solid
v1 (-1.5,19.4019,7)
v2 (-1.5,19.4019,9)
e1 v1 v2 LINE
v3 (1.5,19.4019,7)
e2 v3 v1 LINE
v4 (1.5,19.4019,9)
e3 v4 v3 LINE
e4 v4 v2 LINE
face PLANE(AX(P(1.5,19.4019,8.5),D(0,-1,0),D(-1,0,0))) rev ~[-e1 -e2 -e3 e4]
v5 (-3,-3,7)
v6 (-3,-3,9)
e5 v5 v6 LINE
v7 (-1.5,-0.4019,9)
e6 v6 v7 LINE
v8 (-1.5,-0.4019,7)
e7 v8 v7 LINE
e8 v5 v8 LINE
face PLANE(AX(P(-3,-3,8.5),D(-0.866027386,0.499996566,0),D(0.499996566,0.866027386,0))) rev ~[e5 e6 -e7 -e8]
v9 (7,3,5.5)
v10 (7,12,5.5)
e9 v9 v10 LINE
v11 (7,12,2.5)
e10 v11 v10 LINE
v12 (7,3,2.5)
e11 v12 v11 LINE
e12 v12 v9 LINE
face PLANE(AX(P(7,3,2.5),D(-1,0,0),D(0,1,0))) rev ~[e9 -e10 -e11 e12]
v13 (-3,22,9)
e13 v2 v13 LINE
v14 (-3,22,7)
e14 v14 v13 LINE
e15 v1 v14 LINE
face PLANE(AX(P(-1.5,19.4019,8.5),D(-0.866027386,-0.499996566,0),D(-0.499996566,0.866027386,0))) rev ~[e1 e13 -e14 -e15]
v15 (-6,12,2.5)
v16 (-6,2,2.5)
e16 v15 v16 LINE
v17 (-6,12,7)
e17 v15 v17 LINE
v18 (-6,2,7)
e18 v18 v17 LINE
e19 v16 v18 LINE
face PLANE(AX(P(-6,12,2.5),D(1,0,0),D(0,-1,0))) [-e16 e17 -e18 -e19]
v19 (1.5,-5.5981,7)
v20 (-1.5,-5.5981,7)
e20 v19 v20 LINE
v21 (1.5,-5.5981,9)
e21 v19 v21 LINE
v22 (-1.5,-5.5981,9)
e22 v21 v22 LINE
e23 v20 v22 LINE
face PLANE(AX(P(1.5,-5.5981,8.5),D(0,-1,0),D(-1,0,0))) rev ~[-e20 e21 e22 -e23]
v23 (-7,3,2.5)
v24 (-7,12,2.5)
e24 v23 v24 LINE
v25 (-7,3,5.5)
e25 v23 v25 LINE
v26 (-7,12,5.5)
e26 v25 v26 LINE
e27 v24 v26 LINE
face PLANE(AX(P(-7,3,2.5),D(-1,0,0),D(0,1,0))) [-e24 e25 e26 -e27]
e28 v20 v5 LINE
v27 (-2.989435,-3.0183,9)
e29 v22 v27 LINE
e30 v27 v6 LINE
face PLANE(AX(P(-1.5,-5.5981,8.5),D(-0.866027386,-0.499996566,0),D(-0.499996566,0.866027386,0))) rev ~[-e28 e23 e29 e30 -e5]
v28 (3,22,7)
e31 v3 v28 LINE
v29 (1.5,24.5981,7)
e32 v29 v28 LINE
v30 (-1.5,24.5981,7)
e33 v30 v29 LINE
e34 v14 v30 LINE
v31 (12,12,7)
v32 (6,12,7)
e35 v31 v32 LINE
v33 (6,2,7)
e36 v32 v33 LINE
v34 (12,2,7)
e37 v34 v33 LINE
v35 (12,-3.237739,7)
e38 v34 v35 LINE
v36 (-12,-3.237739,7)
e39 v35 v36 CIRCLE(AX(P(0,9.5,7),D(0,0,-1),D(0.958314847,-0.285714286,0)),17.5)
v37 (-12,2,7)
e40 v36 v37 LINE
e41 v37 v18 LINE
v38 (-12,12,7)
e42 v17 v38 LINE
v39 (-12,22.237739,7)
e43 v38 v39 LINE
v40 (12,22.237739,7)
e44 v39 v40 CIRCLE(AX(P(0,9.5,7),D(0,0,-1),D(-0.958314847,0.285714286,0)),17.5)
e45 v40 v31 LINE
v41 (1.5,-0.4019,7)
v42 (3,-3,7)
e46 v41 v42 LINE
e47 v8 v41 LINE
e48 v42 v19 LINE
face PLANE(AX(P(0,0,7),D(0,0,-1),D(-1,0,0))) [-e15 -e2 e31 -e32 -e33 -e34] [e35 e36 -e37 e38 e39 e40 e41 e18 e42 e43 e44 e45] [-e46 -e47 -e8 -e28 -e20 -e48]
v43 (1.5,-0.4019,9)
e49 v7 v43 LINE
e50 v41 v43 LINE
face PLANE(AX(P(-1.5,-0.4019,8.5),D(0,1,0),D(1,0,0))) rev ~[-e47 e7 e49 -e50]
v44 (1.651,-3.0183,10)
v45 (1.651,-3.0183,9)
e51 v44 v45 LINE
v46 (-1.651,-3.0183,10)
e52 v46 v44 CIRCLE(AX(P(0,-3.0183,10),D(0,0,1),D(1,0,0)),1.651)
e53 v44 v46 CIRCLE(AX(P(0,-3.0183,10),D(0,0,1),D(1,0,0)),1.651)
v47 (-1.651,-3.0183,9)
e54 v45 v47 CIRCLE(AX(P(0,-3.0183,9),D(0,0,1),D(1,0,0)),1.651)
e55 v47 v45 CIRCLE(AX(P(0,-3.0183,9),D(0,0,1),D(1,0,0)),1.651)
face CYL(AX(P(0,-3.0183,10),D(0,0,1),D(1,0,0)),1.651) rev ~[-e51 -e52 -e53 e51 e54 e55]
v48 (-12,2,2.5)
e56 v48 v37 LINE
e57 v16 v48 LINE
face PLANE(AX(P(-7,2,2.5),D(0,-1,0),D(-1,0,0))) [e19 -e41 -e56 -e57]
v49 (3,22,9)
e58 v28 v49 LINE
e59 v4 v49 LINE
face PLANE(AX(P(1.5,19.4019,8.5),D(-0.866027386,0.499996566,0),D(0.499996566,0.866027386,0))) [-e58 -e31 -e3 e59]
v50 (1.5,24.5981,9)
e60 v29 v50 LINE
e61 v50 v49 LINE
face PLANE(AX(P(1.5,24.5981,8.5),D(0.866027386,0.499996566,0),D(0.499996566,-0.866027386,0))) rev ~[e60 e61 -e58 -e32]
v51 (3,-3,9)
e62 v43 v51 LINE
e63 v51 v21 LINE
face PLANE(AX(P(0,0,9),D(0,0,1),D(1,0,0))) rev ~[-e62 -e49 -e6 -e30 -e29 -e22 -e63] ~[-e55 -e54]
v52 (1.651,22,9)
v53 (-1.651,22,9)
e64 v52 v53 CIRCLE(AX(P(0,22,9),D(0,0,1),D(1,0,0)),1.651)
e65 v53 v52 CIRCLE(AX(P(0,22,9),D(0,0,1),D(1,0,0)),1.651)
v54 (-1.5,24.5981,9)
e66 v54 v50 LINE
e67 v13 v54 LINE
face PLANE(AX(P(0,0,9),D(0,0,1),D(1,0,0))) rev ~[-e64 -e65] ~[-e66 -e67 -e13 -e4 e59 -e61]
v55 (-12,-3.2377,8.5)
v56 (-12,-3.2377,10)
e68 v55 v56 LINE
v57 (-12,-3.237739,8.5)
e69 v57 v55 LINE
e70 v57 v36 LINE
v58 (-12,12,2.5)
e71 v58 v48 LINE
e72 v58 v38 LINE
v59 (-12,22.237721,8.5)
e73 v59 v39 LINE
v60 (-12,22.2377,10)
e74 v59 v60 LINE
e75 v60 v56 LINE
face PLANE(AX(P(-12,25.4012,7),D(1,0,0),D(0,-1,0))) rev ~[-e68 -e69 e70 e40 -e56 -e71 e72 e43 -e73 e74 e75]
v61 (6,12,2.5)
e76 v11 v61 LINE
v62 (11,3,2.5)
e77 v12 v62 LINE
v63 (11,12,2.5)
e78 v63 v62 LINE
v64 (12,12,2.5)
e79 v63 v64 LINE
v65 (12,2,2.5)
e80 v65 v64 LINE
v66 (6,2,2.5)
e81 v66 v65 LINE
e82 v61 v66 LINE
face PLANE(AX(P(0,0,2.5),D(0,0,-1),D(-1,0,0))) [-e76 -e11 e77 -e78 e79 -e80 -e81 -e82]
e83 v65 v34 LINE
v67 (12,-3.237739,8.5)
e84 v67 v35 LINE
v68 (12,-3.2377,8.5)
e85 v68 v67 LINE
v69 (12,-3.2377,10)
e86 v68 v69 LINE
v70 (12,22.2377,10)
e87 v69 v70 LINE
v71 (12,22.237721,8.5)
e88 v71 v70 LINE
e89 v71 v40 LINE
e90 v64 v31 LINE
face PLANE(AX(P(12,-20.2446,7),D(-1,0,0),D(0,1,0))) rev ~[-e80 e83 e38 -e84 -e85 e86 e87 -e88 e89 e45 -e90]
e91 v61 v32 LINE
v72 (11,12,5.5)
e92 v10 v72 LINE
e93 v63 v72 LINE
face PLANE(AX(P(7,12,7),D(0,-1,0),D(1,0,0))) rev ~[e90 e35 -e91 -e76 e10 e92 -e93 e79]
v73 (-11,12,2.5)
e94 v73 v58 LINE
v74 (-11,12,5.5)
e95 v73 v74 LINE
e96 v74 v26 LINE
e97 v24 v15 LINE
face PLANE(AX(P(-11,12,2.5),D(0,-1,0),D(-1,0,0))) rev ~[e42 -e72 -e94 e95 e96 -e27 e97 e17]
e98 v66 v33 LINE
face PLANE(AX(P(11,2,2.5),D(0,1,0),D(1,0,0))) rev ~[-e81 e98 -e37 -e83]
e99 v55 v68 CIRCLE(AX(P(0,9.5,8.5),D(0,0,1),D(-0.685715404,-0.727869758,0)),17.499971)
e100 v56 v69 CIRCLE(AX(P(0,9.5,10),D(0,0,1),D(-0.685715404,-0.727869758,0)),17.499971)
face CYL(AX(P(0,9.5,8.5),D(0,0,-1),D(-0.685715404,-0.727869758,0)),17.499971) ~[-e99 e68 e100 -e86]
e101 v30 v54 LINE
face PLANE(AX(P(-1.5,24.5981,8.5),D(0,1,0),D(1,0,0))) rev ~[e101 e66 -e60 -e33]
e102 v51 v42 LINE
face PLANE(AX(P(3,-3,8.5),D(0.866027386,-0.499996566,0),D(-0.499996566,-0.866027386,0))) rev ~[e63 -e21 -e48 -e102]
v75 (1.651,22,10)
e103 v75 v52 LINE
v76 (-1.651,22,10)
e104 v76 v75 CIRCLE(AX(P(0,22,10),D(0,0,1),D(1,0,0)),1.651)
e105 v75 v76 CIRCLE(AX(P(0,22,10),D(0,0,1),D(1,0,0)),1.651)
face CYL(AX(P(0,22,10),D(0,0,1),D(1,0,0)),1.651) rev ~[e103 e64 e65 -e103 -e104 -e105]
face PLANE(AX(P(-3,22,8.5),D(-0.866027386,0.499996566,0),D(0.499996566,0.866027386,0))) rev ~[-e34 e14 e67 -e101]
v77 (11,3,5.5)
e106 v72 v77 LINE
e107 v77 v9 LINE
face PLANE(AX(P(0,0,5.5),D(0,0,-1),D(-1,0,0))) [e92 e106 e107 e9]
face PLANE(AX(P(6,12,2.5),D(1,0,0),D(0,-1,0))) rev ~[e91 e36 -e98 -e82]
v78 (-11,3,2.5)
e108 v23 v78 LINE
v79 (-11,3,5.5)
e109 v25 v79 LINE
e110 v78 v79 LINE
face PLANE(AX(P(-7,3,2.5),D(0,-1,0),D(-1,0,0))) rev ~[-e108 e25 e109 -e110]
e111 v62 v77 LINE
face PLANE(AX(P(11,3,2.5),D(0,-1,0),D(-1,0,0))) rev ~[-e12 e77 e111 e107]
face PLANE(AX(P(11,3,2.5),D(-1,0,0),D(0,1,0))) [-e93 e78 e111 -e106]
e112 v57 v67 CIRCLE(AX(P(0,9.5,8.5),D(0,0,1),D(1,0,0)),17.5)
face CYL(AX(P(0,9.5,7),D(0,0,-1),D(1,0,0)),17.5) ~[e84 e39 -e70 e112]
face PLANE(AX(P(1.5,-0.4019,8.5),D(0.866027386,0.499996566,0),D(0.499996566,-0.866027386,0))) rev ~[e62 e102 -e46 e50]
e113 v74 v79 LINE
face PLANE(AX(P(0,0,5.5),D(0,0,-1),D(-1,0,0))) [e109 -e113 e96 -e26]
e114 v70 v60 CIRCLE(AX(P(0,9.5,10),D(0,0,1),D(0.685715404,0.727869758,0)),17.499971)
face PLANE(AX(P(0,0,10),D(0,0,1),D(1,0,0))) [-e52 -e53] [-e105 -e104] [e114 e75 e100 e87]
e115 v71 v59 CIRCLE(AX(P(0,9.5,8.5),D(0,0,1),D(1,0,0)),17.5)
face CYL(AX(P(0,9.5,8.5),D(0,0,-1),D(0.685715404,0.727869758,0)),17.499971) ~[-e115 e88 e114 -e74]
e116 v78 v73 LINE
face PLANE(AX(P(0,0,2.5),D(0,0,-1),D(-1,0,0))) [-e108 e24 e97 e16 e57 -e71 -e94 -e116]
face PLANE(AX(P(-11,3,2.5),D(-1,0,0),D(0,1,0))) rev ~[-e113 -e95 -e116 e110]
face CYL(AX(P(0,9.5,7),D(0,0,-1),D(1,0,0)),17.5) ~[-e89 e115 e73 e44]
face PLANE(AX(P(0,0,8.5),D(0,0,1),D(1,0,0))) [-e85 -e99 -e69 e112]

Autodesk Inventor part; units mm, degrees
ref_plane "YZ Plane" through (0, 0, 0) normal (1, 0, 0) x (0, 1, 0)
ref_plane "XZ Plane" through (0, 0, 0) normal (0, 1, 0) x (-1, 0, 0)
ref_plane "XY Plane" through (0, 0, 0) normal (0, 0, 1) x (1, 0, 0)
sketch "Sketch1" plane through (0, 0, 0) normal (0, 0, 1) x (1, 0, 0)
  line L0 (0, 0) -> (4, 0)
  line L1 (4, 0) -> (4, 13)
  line L2 (4, 13) -> (0, 13)
  line L3 (0, 13) -> (0, 0)
  line L4 (4, 13) -> (-4, 13)
  line L5 (-4, 13) -> (-4, -8)
  line L6 (-4, -8) -> (4, -8)
  line L7 (4, -8) -> (4, 13)
  line L8 (-4, 13) -> (4, 13)
  line L9 (4, 13) -> (4, 21)
  line L10 (4, 21) -> (-4, 21)
  line L11 (-4, 21) -> (-4, 13)
  line L12 (4, 21) -> (7, 21)
  line L13 (7, 21) -> (7, 13)
  line L14 (7, 13) -> (4, 13)
  line L15 (4, 13) -> (4, 21)
  line L16 (7, 21) -> (11, 21)
  line L17 (11, 21) -> (11, 13)
  line L18 (11, 13) -> (7, 13)
  line L19 (7, 13) -> (7, 21)
  line L20 (11, 13) -> (4, 13)
  line L21 (4, 13) -> (4, -8)
  line L22 (4, -8) -> (11, -8)
  line L23 (4, -8) -> (11, -8)
  line L24 (11, -8) -> (11, 0)
  line L25 (11, 0) -> (4, 0)
  line L26 (4, 0) -> (4, -8)
  line L27 (11, -8) -> (14, -8)
  line L28 (14, -8) -> (14, 0)
  line L29 (14, 0) -> (11, 0)
  line L30 (11, 0) -> (11, -8)
  line L31 (14, -8) -> (19, -8)
  line L32 (19, -8) -> (19, 13)
  line L33 (19, 13) -> (14, 13)
  line L34 (14, 13) -> (14, -8)
  line L35 (14, 13) -> (22, 13)
  line L36 (14, 18) -> (14, 13)
  line L37 (19, 13) -> (14, 13)
  line L38 (14, 13) -> (14, 21)
  line L39 (14, 21) -> (19, 21)
  line L40 (19, 21) -> (19, 13)
  line L41 (19, -8) -> (-19, -8)
  line L42 (-19, -8) -> (-19, 0)
  line L43 (-19, 0) -> (19, 0)
  line L44 (19, 0) -> (19, -8)
  line L45 (-4, 0) -> (-7, 0)
  line L46 (-7, 0) -> (-7, -8)
  line L47 (-7, -8) -> (-4, -8)
  line L48 (-4, -8) -> (-4, 0)
  line L49 (-7, 0) -> (-11, 0)
  line L50 (-11, 0) -> (-11, -8)
  line L51 (-11, -8) -> (-7, -8)
  line L52 (-7, -8) -> (-7, 0)
  line L53 (-11, -8) -> (-14, -8)
  line L54 (-14, -8) -> (-14, 0)
  line L55 (-14, 0) -> (-11, 0)
  line L56 (-11, 0) -> (-11, -8)
  line L57 (7, 13) -> (11, 13)
  line L58 (11, 13) -> (11, 3)
  line L59 (11, 3) -> (7, 3)
  line L60 (7, 3) -> (7, 13)
  line L61 (-4, 13) -> (-7, 13)
  line L62 (-7, 13) -> (-7, 21)
  line L63 (-7, 21) -> (-4, 21)
  line L64 (-4, 21) -> (-4, 13)
  line L65 (-7, 21) -> (-11, 21)
  line L66 (-11, 21) -> (-11, 13)
  line L67 (-11, 13) -> (-7, 13)
  line L68 (-7, 13) -> (-7, 21)
  line L69 (-7, 13) -> (-11, 13)
  line L70 (-11, 13) -> (-11, 3)
  line L71 (-11, 3) -> (-7, 3)
  line L72 (-7, 3) -> (-7, 13)
  line L73 (-19, -8) -> (-14, -8)
  line L74 (-14, -8) -> (-14, 13)
  line L75 (-14, 13) -> (-19, 13)
  line L76 (-19, 13) -> (-19, -8)
  dimension "d0" = 4
  dimension "d1" = 13
  dimension "d2" = 8
  dimension "d3" = 21
  dimension "d4" = 8
  dimension "d5" = 8
  dimension "d6" = 3
  dimension "d7" = 8
  dimension "d8" = 4
  dimension "d9" = 8
  dimension "d10" = 3
  dimension "d11" = 8
  dimension "d12" = 5
  dimension "d13" = 21
  dimension "d16" = 5
  dimension "d17" = 8
  dimension "d18" = 38
  dimension "d19" = 8
  dimension "d20" = 3
  dimension "d21" = 8
  dimension "d22" = 4
  dimension "d23" = 8
  dimension "d24" = 3
  dimension "d25" = 8
  dimension "d26" = 10
  dimension "d27" = 3
  dimension "d28" = 8
  dimension "d29" = 4
  dimension "d30" = 8
  dimension "d31" = 4
  dimension "d32" = 10
  dimension "d33" = 5
  dimension "d34" = 21
extrude "Extrusion1" add sketch "Sketch1" along normal blind 2.5 contours L3 L2 L1 L0 | L43 L5 L4 L3 | L0 L7 L6 L5 L43 | L25 L24 L22 L7 | L4 L11 L10 L9 L2 | L5 L41 L46 L43 | L9 L12 L13 L14 | L29 L28 L27 L24 | L61 L62 L63 L11 | L46 L41 L50 L43 | L13 L16 L17 L18 | L18 L58 L59 L60 | L43 L32 L31 L28 | L34 L33 L32 L43 | L67 L66 L65 L62 | L72 L71 L70 L67 | L50 L41 L54 L43 | L54 L41 L42 L43 | L43 L76 L75 L74
sketch "Sketch2" plane through (0, 0, 2.5) normal (0, 0, 1) x (1, 0, 0)
  line L0 (-14, 13) -> (-19, 13) projected
  line L1 (-19, 13) -> (-14, 13)
  line L2 (-14, 13) -> (-14, 8)
  line L3 (-14, 8) -> (-19, 8)
  line L4 (-19, 8) -> (-19, 13)
  line L5 (14, 13) -> (19, 13)
  line L6 (19, 13) -> (19, 8)
  line L7 (19, 8) -> (14, 8)
  line L8 (14, 8) -> (14, 13)
  line L9 (-20.5, 6.5) -> (-12.5, 6.5)
  line L10 (-12.5, 6.5) -> (-12.5, 14.5)
  line L11 (-12.5, 14.5) -> (-20.5, 14.5)
  line L12 (-20.5, 14.5) -> (-20.5, 6.5)
  line L13 (12.5, 6.5) -> (20.5, 6.5)
  line L14 (20.5, 6.5) -> (20.5, 14.5)
  line L15 (20.5, 14.5) -> (12.5, 14.5)
  line L16 (12.5, 14.5) -> (12.5, 6.5)
  line L17 (-20.5, 14.5) -> (-19, 14.5)
  line L18 (-19, 14.5) -> (-19, 4.5)
  line L19 (-19, 4.5) -> (-20.5, 4.5)
  line L20 (-20.5, 4.5) -> (-20.5, 14.5)
  line L21 (-14, 0) -> (-14, 13) projected
  line L22 (-12.5, 14.5) -> (-14, 14.5)
  line L23 (-14, 14.5) -> (-14, 4.5)
  line L24 (-14, 4.5) -> (-12.5, 4.5)
  line L25 (-12.5, 4.5) -> (-12.5, 14.5)
  line L26 (-19, 14.5) -> (-14, 14.5)
  line L27 (-14, 14.5) -> (-14, 13)
  line L28 (-14, 13) -> (-19, 13)
  line L29 (-19, 13) -> (-19, 14.5)
  line L30 (12.5, 14.5) -> (20.5, 14.5)
  line L31 (20.5, 14.5) -> (20.5, 13)
  line L32 (20.5, 13) -> (12.5, 13)
  line L33 (12.5, 13) -> (12.5, 14.5)
  line L34 (14, 13) -> (14, 0) projected
  line L35 (12.5, 14.5) -> (14, 14.5)
  line L36 (14, 14.5) -> (14, 4.5)
  line L37 (14, 4.5) -> (12.5, 4.5)
  line L38 (12.5, 4.5) -> (12.5, 14.5)
  line L39 (19, -8) -> (19, 13) projected
  line L40 (20.5, 14.5) -> (19, 14.5)
  line L41 (19, 14.5) -> (19, 4.5)
  line L42 (19, 4.5) -> (20.5, 4.5)
  line L43 (20.5, 4.5) -> (20.5, 14.5)
  point P0 (0, 0)
  dimension "d37" = 5
  dimension "d38" = 5
  dimension "d39" = 5
  dimension "d40" = 5
  dimension "d41" = 1.5
  dimension "d42" = 1.5
  dimension "d43" = 1.5
  dimension "d44" = 10
  dimension "d45" = 10
  dimension "d46" = 10
extrude "Extrusion2" add sketch "Sketch2" along normal blind 3 contours L23 L11 L10 L9 L21 L2 | L0 L18 L11 L23 | L4 L18 L9 L12 L11 | L9 L25 L24 L21 | L18 L19 L20 L9 | L36 L15 L41 L5 | L8 L34 L13 L16 L32 | L32 L16 L15 L36 | L32 L14 L13 L39 L6 | L41 L15 L14 L32 | L34 L37 L38 L13 | L13 L43 L42 L39
sketch "Sketch4" plane through (0, 0, 5.5) normal (0, 0, 1) x (1, 0, 0)
  line L0 (-12.5, 14.5) -> (-20.5, 14.5) projected
  line L1 (-12.5, 4.5) -> (-12.5, 14.5) projected
  line L2 (-20.5, 14.5) -> (-12.5, 14.5)
  line L3 (-12.5, 14.5) -> (-12.5, 4.5)
  line L4 (-12.5, 4.5) -> (-20.5, 4.5)
  line L5 (-20.5, 4.5) -> (-20.5, 14.5)
  line L6 (12.5, 14.5) -> (12.5, 4.5) projected
  line L7 (20.5, 4.5) -> (20.5, 14.5) projected
  line L8 (12.5, 14.5) -> (20.5, 14.5)
  line L9 (20.5, 14.5) -> (20.5, 4.5)
  line L10 (20.5, 4.5) -> (12.5, 4.5)
  line L11 (12.5, 4.5) -> (12.5, 14.5)
  point P0 (0, 0)
extrude "Extrusion3" add sketch "Sketch4" along normal blind 1.5
sketch "Sketch5" plane through (0, 0, 7) normal (0, 0, 1) x (1, 0, 0)
  line L0 (-12.5, 14.5) -> (-20.5, 14.5) projected
  line L1 (20.5, 4.5) -> (20.5, 14.5) projected
  line L2 (-20.5, 14.5) -> (20.5, 14.5)
  line L3 (20.5, 14.5) -> (20.5, 4.5)
  line L4 (20.5, 4.5) -> (-20.5, 4.5)
  line L5 (-20.5, 4.5) -> (-20.5, 14.5)
  line L6 (-20.5, 14.5) -> (-20.5, 4.5) projected
  line L7 (-20.5, 9.5) -> (20.5, 9.5)
  line L8 (0, 9.5) -> (0, 14.5)
  circle A0 centre (0, 9.5) radius 17.5
  point P0 (0, 0)
extrude "Extrusion4" add sketch "Sketch5" along normal blind 1.5
sketch "Sketch6" plane through (0, 0, 8.5) normal (0, 0, 1) x (1, 0, 0)
  arc A0 (16.7705, 14.5) -> (-16.7705, 14.5) centre (0, 9.5) ccw projected
  circle A1 centre (0, 9.5) radius 17.5
  circle A2 centre (0, 9.5) radius 7.5
  circle A3 centre (0, 9.5) radius 12.5
  line L0 (12.5, 14.5) -> (12.5, 4.5) projected
  circle A4 centre (0, 9.5) radius 10
  circle A5 centre (0, -0.5) radius 1.651
  circle A6 centre (0, 2) radius 1.651
  circle A7 centre (7.5, 9.5) radius 1.651
  circle A8 centre (-7.5, 9.5) radius 1.651
  circle A9 centre (0, 17) radius 1.651
  circle A10 centre (0, 22) radius 1.651
  circle A11 centre (0, -3) radius 1.651
  point P0 (0, 0)
  dimension "d54" = 20
  dimension "d53" = 15
  dimension "d55" = 3.302
  dimension "d56" = 3.302
  dimension "d57" = 3.302
  dimension "d58" = 3.302
  dimension "d59" = 3.302
  dimension "d62" = 3.302
  dimension "d63" = 3.302
extrude "Extrusion5" cut sketch "Sketch6" against normal blind 2.5 contours A2 A7 | A2 A7 | A8 A2 | A2 A8 | A11 A5 | A5 A11 A3 | A3 A11 | A10 A3 | A3 A10
sketch "Sketch7" plane through (0, 0, 2.5) normal (0, 0, -1) x (-1, 0, 0)
  line L0 (-36.0395, -19.2499) -> (42.4279, -19.2499)
  line L1 (42.4279, -19.2499) -> (42.4279, 35.743)
  line L2 (42.4279, 35.743) -> (-36.0395, 35.743)
  line L3 (-36.0395, 35.743) -> (-36.0395, -19.2499)
  point P0 (0, 0)
extrude "Extrusion6" cut sketch "Sketch7" along normal blind 2.5
sketch "Sketch8" plane through (0, 0, 2.5) normal (0, 0, -1) x (-1, 0, 0)
  line L0 (-12.5, 14.5) -> (-12.5, 4.5) projected
  line L1 (-12.5, 14.5) -> (-13, 14.5)
  line L2 (-13, 14.5) -> (-13, 4.5)
  line L3 (-13, 4.5) -> (-12.5, 4.5)
  line L4 (-12.5, 4.5) -> (-12.5, 14.5)
  line L5 (12.5, 4.5) -> (12.5, 14.5) projected
  line L6 (12.5, 14.5) -> (13, 14.5)
  line L7 (13, 14.5) -> (13, 4.5)
  line L8 (13, 4.5) -> (12.5, 4.5)
  line L9 (12.5, 4.5) -> (12.5, 14.5)
  point P0 (0, 0)
  dimension "d66" = 0.5
  dimension "d67" = 10
  dimension "d68" = 0.5
  dimension "d69" = 10
extrude "Extrusion7" cut sketch "Sketch8" against normal blind 4.5
sketch "Sketch10" plane through (0, 0, 2.5) normal (0, 0, -1) x (-1, 0, 0)
  line L0 (19, 13) -> (19, 4.5) projected
  line L1 (19, 13) -> (14, 13)
  line L2 (14, 13) -> (14, -8)
  line L3 (14, -8) -> (19, -8)
  line L4 (19, -8) -> (19, 13)
  line L5 (14, -8) -> (11, -8)
  line L6 (11, -8) -> (11, 0)
  line L7 (11, 0) -> (14, 0)
  line L8 (14, 0) -> (14, -8)
  line L9 (11, -8) -> (7, -8)
  line L10 (7, -8) -> (7, 0)
  line L11 (7, 0) -> (11, 0)
  line L12 (11, 0) -> (11, -8)
  line L13 (7, -8) -> (4, -8)
  line L14 (4, -8) -> (4, 0)
  line L15 (4, 0) -> (7, 0)
  line L16 (7, 0) -> (7, -8)
  line L17 (4, -8) -> (0, -8)
  line L18 (0, -8) -> (0, 0)
  line L19 (0, 0) -> (4, 0)
  line L20 (4, 0) -> (4, -8)
  line L21 (0, 0) -> (-4, 0)
  line L22 (-4, 0) -> (-4, -8)
  line L23 (-4, -8) -> (0, -8)
  line L24 (0, -8) -> (0, 0)
  line L25 (-4, -8) -> (-7, -8)
  line L26 (-7, -8) -> (-7, 0)
  line L27 (-7, 0) -> (-4, 0)
  line L28 (-4, 0) -> (-4, -8)
  line L29 (-7, -8) -> (-11, -8)
  line L30 (-11, -8) -> (-11, 0)
  line L31 (-11, 0) -> (-7, 0)
  line L32 (-7, 0) -> (-7, -8)
  line L33 (-11, -8) -> (-14, -8)
  line L34 (-14, -8) -> (-14, 0)
  line L35 (-14, 0) -> (-11, 0)
  line L36 (-11, 0) -> (-11, -8)
  line L37 (-14, -8) -> (-19, -8)
  line L38 (-19, -8) -> (-19, 13)
  line L39 (-19, 13) -> (-14, 13)
  line L40 (-14, 13) -> (-14, -8)
  line L41 (4, -8) -> (-4, -8)
  line L42 (-4, -8) -> (-4, 21)
  line L43 (-4, 21) -> (4, 21)
  line L44 (4, 21) -> (4, -8)
  line L45 (4, 21) -> (7, 21)
  line L46 (7, 21) -> (7, 13)
  line L47 (7, 13) -> (4, 13)
  line L48 (4, 13) -> (4, 21)
  line L49 (-4, 21) -> (-7, 21)
  line L50 (-7, 21) -> (-7, 13)
  line L51 (-7, 13) -> (-4, 13)
  line L52 (-4, 13) -> (-4, 21)
  line L53 (4, 0) -> (14, 0)
  line L54 (14, 0) -> (14, 3)
  line L55 (14, 3) -> (4, 3)
  line L56 (4, 3) -> (4, 0)
  line L57 (7, 13) -> (4, 13)
  line L58 (4, 13) -> (4, 3)
  line L59 (4, 3) -> (7, 3)
  line L60 (7, 3) -> (7, 13)
  line L61 (7, 3) -> (12, 3)
  line L62 (12, 3) -> (12, 13)
  line L63 (12, 13) -> (7, 13)
  line L64 (7, 13) -> (7, 3)
  line L65 (12, 13) -> (7, 13)
  line L66 (7, 13) -> (7, 21)
  line L67 (7, 21) -> (12, 21)
  line L68 (12, 21) -> (12, 13)
  line L69 (7, 3) -> (11, 3)
  line L70 (11, 3) -> (11, 21)
  line L71 (11, 21) -> (7, 21)
  line L72 (7, 21) -> (7, 3)
  line L73 (-7, 21) -> (-11, 21)
  line L74 (-11, 21) -> (-11, 8)
  line L75 (-11, 8) -> (-7, 8)
  line L76 (-7, 8) -> (-7, 21)
  line L77 (-11, 8) -> (-7, 8)
  line L78 (-7, 8) -> (-7, 3)
  line L79 (-7, 3) -> (-11, 3)
  line L80 (-11, 3) -> (-11, 8)
  dimension "d72" = 5
  dimension "d73" = 21
  dimension "d74" = 3
  dimension "d75" = 8
  dimension "d76" = 4
  dimension "d77" = 8
  dimension "d78" = 3
  dimension "d79" = 8
  dimension "d80" = 4
  dimension "d81" = 3
  dimension "d82" = 8
  dimension "d83" = 4
  dimension "d84" = 8
  dimension "d85" = 3
  dimension "d86" = 8
  dimension "d87" = 5
  dimension "d88" = 21
  dimension "d89" = 8
  dimension "d90" = 29
  dimension "d91" = 3
  dimension "d92" = 8
  dimension "d93" = 3
  dimension "d94" = 5
  dimension "d95" = 10
  dimension "d96" = 4
  dimension "d97" = 4
  dimension "d98" = 13
  dimension "d99" = 5
extrude "Extrusion8" add sketch "Sketch10" along normal blind 2.5 contours L55 L70 L63 L62 | L55 L60 L63 L70 | L78 L79 L80 L75
sketch "Sketch12" plane through (0, 0, 2.5) normal (0, 0, -1) x (-1, 0, 0)
  line L0 (-20.5, 14.5) -> (-16.7705, 14.5) projected
  line L1 (-13, 4.5) -> (-14, 4.5) projected
  line L2 (-13, 4.5) -> (-20.5, 4.5)
  line L3 (-20.5, 4.5) -> (-20.5, 14.5)
  line L4 (-20.5, 14.5) -> (-20.5, 4.5)
  line L5 (-20.5, 4.5) -> (-20.5, 14.5) projected
  line L6 (-20.5, 14.5) -> (-20.5, 4.5)
  line L7 (-11, 3) -> (-7, 3) projected
  line L8 (-11, 3) -> (-7, 3)
  line L9 (7, 3) -> (12, 3) projected
  line L10 (7, 3) -> (11, 3)
  line L11 (-6, 2) -> (-12, 2)
  line L12 (6, 2) -> (12, 2)
  line L13 (-11, 3) -> (-12, 3)
  line L14 (-12, 2) -> (-11, 2)
  line L15 (-11, 2) -> (-11, 12)
  line L16 (-11, 12) -> (-12, 12)
  line L17 (-12, 12) -> (-12, 2)
  line L18 (-6, 2) -> (-7, 2)
  line L19 (-7, 2) -> (-7, 12)
  line L20 (-7, 12) -> (-6, 12)
  line L21 (-6, 12) -> (-6, 2)
  line L22 (-11, 3) -> (-7, 3)
  line L23 (-7, 3) -> (-7, 2)
  line L24 (-7, 2) -> (-11, 2)
  line L25 (-11, 2) -> (-11, 3)
  line L26 (6, 2) -> (7, 2)
  line L27 (7, 2) -> (7, 12)
  line L28 (7, 12) -> (6, 12)
  line L29 (6, 12) -> (6, 2)
  line L30 (12, 2) -> (11, 2)
  line L31 (11, 2) -> (11, 12)
  line L32 (11, 12) -> (12, 12)
  line L33 (12, 12) -> (12, 2)
  line L34 (11, 2) -> (7, 2)
  line L35 (7, 2) -> (7, 3)
  line L36 (7, 3) -> (11, 3)
  line L37 (11, 3) -> (11, 2)
  point P0 (0, 0)
  dimension "d102" = 10
  dimension "d108" = 10
  dimension "d109" = 10
  dimension "d110" = 10
  dimension "d111" = 10
extrude "Extrusion9" add sketch "Sketch12" against normal blind 4.5
sketch "Sketch13" plane through (0, 0, 2.5) normal (0, 0, -1) x (-1, 0, 0)
  line L0 (-38.1757, -13.5793) -> (29.0802, -13.5793)
  line L1 (29.0802, -13.5793) -> (29.0802, 23.5075)
  line L2 (29.0802, 23.5075) -> (-38.1757, 23.5075)
  line L3 (-38.1757, 23.5075) -> (-38.1757, -13.5793)
  point P0 (0, 0)
extrude "Extrusion10" cut sketch "Sketch13" along normal blind 4.5
sketch "Sketch15" plane through (0, 0, 7) normal (0, 0, -1) x (-1, 0, 0)
  line L0 (-11, 12) -> (-11, 3) projected
  line L1 (-7, 12) -> (-6, 12) projected
  line L2 (-11, 3) -> (-7, 3)
  line L3 (-7, 3) -> (-7, 12)
  line L4 (-7, 12) -> (-11, 12)
  line L5 (-11, 12) -> (-11, 3)
  line L6 (7, 7.9265) -> (7, 3) projected
  line L7 (11, 12) -> (11, 3) projected
  line L8 (7, 3) -> (11, 3)
  line L9 (11, 3) -> (11, 12)
  line L10 (11, 12) -> (7, 12)
  line L11 (7, 12) -> (7, 3)
  point P0 (0, 0)
extrude "Extrusion11" add sketch "Sketch15" along normal blind 1.5
sketch "Sketch16" plane through (0, 0, 7) normal (0, 0, -1) x (-1, 0, 0)
  line L0 (-12.4141, 17.8254) -> (-32.5951, 17.8254)
  line L1 (-32.5951, 17.8254) -> (-32.5951, -1.1459)
  line L2 (-32.5951, -1.1459) -> (-12.4141, -1.1459)
  line L3 (-12.4141, -1.1459) -> (-12.4141, 17.8254)
  line L4 (12.4778, 16.3612) -> (30.5579, 16.3612)
  line L5 (30.5579, 16.3612) -> (30.5579, -3.4378)
  line L6 (30.5579, -3.4378) -> (12.4778, -3.4378)
  line L7 (12.4778, -3.4378) -> (12.4778, 16.3612)
  point P0 (0, 0)
extrude "Extrusion12" cut sketch "Sketch16" along normal blind 10
sketch "Sketch17" plane through (0, 0, 7) normal (0, 0, -1) x (-1, 0, 0)
  arc A0 (16.7705, 14.5) -> (-16.7705, 14.5) centre (0, 9.5) ccw projected
  circle A1 centre (0, 9.5) radius 17.5
  circle A2 centre (0, 9.5) radius 24.0818
  point P0 (0, 0)
extrude "Extrusion13" cut sketch "Sketch17" against normal blind 10
sketch "Sketch18" plane through (0, 9.5, 8.5) normal (0, 0, 1) x (1, 0, 0)
  line L0 (12.6688, -5.8076) -> (-12.9871, -5.8076)
  line L1 (-12.9871, -5.8076) -> (-12.9871, 4.3147)
  line L2 (-12.9871, 4.3147) -> (12.6688, 4.3147)
  line L3 (12.6688, 4.3147) -> (12.6688, -5.8076)
  point P0 (0, -9.5)
extrude "Extrusion14" add sketch "Sketch18" against normal blind 1.5
sketch "Sketch19" plane through (0, 9.5, 7) normal (0, 0, -1) x (-1, 0, 0)
  line L0 (-12, -7.5) -> (-12, 2.5) projected
  line L1 (-12, -2.5) -> (-30.6852, -2.5)
  line L2 (-30.6852, -2.5) -> (-30.6852, 13.7367)
  line L3 (-30.6852, 13.7367) -> (-12, 13.7367)
  line L4 (-12, 13.7367) -> (-12, -2.5)
  line L5 (12, 2.5) -> (12, -7.5) projected
  line L6 (12, -2.5) -> (23.555, -2.5)
  line L7 (23.555, -2.5) -> (23.555, -20.9592)
  line L8 (23.555, -20.9592) -> (12, -20.9592)
  line L9 (12, -20.9592) -> (12, -2.5)
  line L10 (-12, 13.7367) -> (-34.1229, 13.7367)
  line L11 (-34.1229, 13.7367) -> (-34.1229, -29.7446)
  line L12 (-34.1229, -29.7446) -> (-12, -29.7446)
  line L13 (-12, -29.7446) -> (-12, 13.7367)
  line L14 (12, -17.0758) -> (29.03, -17.0758)
  line L15 (29.03, -17.0758) -> (29.03, 15.9012)
  line L16 (29.03, 15.9012) -> (12, 15.9012)
  line L17 (12, 15.9012) -> (12, -17.0758)
  point P0 (0, -9.5)
extrude "Extrusion15" cut sketch "Sketch19" against normal blind 1.5
sketch "Sketch23" plane through (0, 0, 8.5) normal (0, 0, 1) x (1, 0, 0)
  circle A0 centre (0, 22) radius 1.651 projected
  circle A1 centre (0, 22) radius 3
  circle A2 centre (0, -3) radius 1.651 projected
  circle A3 centre (0, -3) radius 3
  line L0 (3, 22) -> (1.5, 19.4019)
  line L1 (1.5, 19.4019) -> (-1.5, 19.4019)
  line L2 (-1.5, 19.4019) -> (-3, 22)
  line L3 (-3, 22) -> (-1.5, 24.5981)
  line L4 (-1.5, 24.5981) -> (1.5, 24.5981)
  line L5 (1.5, 24.5981) -> (3, 22)
  line L6 (3, -3) -> (1.5, -5.5981)
  line L7 (1.5, -5.5981) -> (-1.5, -5.5981)
  line L8 (-1.5, -5.5981) -> (-3, -3)
  line L9 (-3, -3) -> (-1.5, -0.4019)
  line L10 (-1.5, -0.4019) -> (1.5, -0.4019)
  line L11 (1.5, -0.4019) -> (3, -3)
  line L12 (12, -3.2377) -> (12, 22.2377) projected
  line L13 (-12, 22.2377) -> (-12, -3.2377) projected
  arc A4 (12, 22.2377) -> (-12, 22.2377) centre (0, 9.5) ccw
  arc A5 (-12, -3.2377) -> (12, -3.2377) centre (0, 9.5) ccw
  line L14 (12, 22.2377) -> (12, -3.2377)
  arc A6 (12, 22.2377) -> (-12, 22.2377) centre (0, 9.5) ccw projected
  line L15 (-12, 22.2377) -> (-12, -3.2377)
  point P0 (0, 0)
  dimension "d130" = 6
  dimension "d131" = 6
extrude "Extrusion17" add sketch "Sketch23" along normal blind 1.5 contours L5 A1 | A1 L0 | L4 A1 | A1 L1 | L3 A1 | A1 L2 | L11 A3 | A3 L6 | L10 A3 | A3 L7 | L9 A3 | A3 L8 | A5 L13 A4 L12
sketch "Sketch24" plane through (0, 0, 8.5) normal (0, 0, 1) x (1, 0, 0)
  circle A0 centre (0, 22) radius 1.651 projected
  circle A1 centre (0, 22) radius 1.651
  circle A2 centre (0, -3) radius 1.651 projected
  circle A3 centre (0, -3) radius 1.651
  line L0 (1.5, 19.4019) -> (3, 22) projected
  line L1 (3, 22) -> (1.5, 19.4019)
  line L2 (1.5, 19.4019) -> (-1.5, 19.4019)
  line L3 (-1.5, 19.4019) -> (-3, 22)
  line L4 (-3, 22) -> (-1.5, 24.5981)
  line L5 (-1.5, 24.5981) -> (1.5, 24.5981)
  line L6 (1.5, 24.5981) -> (3, 22)
  line L7 (3, -3) -> (1.5, -5.5981)
  line L8 (1.5, -5.5981) -> (-1.5, -5.5981)
  line L9 (-1.5, -5.5981) -> (-3, -3)
  line L10 (-3, -3) -> (-1.5, -0.4019)
  line L11 (-1.5, -0.4019) -> (1.5, -0.4019)
  line L12 (1.5, -0.4019) -> (3, -3)
  point P0 (0, 0)
extrude "Extrusion18" cut sketch "Sketch24" along normal mid plane 100
sketch "Sketch25" plane through (0, 0, 10) normal (0, 0, 1) x (1, 0, 0)
  line L0 (1.5, 19.4019) -> (3, 22) projected
  line L1 (3, 22) -> (-3, 22)
  line L2 (-3, 22) -> (-3, -3.0183)
  line L3 (-3, -3.0183) -> (3, -3.0183)
  circle A0 centre (0, 22) radius 1.651
  circle A1 centre (0, -3.0183) radius 1.651
  line L4 (4.4772, 25.7061) -> (-3.8232, 25.7061)
  line L5 (-3.8232, 25.7061) -> (-3.8232, -6.6403)
  line L6 (-3.8232, -6.6403) -> (4.4772, -6.6403)
  line L7 (4.4772, -6.6403) -> (4.4772, 25.7061)
  point P0 (0, 0)
  dimension "d136" = 3.302
  dimension "d137" = 3.302
extrude "Extrusion19" add sketch "Sketch25" against normal blind 1
properties part number "loadCelMountLower"
